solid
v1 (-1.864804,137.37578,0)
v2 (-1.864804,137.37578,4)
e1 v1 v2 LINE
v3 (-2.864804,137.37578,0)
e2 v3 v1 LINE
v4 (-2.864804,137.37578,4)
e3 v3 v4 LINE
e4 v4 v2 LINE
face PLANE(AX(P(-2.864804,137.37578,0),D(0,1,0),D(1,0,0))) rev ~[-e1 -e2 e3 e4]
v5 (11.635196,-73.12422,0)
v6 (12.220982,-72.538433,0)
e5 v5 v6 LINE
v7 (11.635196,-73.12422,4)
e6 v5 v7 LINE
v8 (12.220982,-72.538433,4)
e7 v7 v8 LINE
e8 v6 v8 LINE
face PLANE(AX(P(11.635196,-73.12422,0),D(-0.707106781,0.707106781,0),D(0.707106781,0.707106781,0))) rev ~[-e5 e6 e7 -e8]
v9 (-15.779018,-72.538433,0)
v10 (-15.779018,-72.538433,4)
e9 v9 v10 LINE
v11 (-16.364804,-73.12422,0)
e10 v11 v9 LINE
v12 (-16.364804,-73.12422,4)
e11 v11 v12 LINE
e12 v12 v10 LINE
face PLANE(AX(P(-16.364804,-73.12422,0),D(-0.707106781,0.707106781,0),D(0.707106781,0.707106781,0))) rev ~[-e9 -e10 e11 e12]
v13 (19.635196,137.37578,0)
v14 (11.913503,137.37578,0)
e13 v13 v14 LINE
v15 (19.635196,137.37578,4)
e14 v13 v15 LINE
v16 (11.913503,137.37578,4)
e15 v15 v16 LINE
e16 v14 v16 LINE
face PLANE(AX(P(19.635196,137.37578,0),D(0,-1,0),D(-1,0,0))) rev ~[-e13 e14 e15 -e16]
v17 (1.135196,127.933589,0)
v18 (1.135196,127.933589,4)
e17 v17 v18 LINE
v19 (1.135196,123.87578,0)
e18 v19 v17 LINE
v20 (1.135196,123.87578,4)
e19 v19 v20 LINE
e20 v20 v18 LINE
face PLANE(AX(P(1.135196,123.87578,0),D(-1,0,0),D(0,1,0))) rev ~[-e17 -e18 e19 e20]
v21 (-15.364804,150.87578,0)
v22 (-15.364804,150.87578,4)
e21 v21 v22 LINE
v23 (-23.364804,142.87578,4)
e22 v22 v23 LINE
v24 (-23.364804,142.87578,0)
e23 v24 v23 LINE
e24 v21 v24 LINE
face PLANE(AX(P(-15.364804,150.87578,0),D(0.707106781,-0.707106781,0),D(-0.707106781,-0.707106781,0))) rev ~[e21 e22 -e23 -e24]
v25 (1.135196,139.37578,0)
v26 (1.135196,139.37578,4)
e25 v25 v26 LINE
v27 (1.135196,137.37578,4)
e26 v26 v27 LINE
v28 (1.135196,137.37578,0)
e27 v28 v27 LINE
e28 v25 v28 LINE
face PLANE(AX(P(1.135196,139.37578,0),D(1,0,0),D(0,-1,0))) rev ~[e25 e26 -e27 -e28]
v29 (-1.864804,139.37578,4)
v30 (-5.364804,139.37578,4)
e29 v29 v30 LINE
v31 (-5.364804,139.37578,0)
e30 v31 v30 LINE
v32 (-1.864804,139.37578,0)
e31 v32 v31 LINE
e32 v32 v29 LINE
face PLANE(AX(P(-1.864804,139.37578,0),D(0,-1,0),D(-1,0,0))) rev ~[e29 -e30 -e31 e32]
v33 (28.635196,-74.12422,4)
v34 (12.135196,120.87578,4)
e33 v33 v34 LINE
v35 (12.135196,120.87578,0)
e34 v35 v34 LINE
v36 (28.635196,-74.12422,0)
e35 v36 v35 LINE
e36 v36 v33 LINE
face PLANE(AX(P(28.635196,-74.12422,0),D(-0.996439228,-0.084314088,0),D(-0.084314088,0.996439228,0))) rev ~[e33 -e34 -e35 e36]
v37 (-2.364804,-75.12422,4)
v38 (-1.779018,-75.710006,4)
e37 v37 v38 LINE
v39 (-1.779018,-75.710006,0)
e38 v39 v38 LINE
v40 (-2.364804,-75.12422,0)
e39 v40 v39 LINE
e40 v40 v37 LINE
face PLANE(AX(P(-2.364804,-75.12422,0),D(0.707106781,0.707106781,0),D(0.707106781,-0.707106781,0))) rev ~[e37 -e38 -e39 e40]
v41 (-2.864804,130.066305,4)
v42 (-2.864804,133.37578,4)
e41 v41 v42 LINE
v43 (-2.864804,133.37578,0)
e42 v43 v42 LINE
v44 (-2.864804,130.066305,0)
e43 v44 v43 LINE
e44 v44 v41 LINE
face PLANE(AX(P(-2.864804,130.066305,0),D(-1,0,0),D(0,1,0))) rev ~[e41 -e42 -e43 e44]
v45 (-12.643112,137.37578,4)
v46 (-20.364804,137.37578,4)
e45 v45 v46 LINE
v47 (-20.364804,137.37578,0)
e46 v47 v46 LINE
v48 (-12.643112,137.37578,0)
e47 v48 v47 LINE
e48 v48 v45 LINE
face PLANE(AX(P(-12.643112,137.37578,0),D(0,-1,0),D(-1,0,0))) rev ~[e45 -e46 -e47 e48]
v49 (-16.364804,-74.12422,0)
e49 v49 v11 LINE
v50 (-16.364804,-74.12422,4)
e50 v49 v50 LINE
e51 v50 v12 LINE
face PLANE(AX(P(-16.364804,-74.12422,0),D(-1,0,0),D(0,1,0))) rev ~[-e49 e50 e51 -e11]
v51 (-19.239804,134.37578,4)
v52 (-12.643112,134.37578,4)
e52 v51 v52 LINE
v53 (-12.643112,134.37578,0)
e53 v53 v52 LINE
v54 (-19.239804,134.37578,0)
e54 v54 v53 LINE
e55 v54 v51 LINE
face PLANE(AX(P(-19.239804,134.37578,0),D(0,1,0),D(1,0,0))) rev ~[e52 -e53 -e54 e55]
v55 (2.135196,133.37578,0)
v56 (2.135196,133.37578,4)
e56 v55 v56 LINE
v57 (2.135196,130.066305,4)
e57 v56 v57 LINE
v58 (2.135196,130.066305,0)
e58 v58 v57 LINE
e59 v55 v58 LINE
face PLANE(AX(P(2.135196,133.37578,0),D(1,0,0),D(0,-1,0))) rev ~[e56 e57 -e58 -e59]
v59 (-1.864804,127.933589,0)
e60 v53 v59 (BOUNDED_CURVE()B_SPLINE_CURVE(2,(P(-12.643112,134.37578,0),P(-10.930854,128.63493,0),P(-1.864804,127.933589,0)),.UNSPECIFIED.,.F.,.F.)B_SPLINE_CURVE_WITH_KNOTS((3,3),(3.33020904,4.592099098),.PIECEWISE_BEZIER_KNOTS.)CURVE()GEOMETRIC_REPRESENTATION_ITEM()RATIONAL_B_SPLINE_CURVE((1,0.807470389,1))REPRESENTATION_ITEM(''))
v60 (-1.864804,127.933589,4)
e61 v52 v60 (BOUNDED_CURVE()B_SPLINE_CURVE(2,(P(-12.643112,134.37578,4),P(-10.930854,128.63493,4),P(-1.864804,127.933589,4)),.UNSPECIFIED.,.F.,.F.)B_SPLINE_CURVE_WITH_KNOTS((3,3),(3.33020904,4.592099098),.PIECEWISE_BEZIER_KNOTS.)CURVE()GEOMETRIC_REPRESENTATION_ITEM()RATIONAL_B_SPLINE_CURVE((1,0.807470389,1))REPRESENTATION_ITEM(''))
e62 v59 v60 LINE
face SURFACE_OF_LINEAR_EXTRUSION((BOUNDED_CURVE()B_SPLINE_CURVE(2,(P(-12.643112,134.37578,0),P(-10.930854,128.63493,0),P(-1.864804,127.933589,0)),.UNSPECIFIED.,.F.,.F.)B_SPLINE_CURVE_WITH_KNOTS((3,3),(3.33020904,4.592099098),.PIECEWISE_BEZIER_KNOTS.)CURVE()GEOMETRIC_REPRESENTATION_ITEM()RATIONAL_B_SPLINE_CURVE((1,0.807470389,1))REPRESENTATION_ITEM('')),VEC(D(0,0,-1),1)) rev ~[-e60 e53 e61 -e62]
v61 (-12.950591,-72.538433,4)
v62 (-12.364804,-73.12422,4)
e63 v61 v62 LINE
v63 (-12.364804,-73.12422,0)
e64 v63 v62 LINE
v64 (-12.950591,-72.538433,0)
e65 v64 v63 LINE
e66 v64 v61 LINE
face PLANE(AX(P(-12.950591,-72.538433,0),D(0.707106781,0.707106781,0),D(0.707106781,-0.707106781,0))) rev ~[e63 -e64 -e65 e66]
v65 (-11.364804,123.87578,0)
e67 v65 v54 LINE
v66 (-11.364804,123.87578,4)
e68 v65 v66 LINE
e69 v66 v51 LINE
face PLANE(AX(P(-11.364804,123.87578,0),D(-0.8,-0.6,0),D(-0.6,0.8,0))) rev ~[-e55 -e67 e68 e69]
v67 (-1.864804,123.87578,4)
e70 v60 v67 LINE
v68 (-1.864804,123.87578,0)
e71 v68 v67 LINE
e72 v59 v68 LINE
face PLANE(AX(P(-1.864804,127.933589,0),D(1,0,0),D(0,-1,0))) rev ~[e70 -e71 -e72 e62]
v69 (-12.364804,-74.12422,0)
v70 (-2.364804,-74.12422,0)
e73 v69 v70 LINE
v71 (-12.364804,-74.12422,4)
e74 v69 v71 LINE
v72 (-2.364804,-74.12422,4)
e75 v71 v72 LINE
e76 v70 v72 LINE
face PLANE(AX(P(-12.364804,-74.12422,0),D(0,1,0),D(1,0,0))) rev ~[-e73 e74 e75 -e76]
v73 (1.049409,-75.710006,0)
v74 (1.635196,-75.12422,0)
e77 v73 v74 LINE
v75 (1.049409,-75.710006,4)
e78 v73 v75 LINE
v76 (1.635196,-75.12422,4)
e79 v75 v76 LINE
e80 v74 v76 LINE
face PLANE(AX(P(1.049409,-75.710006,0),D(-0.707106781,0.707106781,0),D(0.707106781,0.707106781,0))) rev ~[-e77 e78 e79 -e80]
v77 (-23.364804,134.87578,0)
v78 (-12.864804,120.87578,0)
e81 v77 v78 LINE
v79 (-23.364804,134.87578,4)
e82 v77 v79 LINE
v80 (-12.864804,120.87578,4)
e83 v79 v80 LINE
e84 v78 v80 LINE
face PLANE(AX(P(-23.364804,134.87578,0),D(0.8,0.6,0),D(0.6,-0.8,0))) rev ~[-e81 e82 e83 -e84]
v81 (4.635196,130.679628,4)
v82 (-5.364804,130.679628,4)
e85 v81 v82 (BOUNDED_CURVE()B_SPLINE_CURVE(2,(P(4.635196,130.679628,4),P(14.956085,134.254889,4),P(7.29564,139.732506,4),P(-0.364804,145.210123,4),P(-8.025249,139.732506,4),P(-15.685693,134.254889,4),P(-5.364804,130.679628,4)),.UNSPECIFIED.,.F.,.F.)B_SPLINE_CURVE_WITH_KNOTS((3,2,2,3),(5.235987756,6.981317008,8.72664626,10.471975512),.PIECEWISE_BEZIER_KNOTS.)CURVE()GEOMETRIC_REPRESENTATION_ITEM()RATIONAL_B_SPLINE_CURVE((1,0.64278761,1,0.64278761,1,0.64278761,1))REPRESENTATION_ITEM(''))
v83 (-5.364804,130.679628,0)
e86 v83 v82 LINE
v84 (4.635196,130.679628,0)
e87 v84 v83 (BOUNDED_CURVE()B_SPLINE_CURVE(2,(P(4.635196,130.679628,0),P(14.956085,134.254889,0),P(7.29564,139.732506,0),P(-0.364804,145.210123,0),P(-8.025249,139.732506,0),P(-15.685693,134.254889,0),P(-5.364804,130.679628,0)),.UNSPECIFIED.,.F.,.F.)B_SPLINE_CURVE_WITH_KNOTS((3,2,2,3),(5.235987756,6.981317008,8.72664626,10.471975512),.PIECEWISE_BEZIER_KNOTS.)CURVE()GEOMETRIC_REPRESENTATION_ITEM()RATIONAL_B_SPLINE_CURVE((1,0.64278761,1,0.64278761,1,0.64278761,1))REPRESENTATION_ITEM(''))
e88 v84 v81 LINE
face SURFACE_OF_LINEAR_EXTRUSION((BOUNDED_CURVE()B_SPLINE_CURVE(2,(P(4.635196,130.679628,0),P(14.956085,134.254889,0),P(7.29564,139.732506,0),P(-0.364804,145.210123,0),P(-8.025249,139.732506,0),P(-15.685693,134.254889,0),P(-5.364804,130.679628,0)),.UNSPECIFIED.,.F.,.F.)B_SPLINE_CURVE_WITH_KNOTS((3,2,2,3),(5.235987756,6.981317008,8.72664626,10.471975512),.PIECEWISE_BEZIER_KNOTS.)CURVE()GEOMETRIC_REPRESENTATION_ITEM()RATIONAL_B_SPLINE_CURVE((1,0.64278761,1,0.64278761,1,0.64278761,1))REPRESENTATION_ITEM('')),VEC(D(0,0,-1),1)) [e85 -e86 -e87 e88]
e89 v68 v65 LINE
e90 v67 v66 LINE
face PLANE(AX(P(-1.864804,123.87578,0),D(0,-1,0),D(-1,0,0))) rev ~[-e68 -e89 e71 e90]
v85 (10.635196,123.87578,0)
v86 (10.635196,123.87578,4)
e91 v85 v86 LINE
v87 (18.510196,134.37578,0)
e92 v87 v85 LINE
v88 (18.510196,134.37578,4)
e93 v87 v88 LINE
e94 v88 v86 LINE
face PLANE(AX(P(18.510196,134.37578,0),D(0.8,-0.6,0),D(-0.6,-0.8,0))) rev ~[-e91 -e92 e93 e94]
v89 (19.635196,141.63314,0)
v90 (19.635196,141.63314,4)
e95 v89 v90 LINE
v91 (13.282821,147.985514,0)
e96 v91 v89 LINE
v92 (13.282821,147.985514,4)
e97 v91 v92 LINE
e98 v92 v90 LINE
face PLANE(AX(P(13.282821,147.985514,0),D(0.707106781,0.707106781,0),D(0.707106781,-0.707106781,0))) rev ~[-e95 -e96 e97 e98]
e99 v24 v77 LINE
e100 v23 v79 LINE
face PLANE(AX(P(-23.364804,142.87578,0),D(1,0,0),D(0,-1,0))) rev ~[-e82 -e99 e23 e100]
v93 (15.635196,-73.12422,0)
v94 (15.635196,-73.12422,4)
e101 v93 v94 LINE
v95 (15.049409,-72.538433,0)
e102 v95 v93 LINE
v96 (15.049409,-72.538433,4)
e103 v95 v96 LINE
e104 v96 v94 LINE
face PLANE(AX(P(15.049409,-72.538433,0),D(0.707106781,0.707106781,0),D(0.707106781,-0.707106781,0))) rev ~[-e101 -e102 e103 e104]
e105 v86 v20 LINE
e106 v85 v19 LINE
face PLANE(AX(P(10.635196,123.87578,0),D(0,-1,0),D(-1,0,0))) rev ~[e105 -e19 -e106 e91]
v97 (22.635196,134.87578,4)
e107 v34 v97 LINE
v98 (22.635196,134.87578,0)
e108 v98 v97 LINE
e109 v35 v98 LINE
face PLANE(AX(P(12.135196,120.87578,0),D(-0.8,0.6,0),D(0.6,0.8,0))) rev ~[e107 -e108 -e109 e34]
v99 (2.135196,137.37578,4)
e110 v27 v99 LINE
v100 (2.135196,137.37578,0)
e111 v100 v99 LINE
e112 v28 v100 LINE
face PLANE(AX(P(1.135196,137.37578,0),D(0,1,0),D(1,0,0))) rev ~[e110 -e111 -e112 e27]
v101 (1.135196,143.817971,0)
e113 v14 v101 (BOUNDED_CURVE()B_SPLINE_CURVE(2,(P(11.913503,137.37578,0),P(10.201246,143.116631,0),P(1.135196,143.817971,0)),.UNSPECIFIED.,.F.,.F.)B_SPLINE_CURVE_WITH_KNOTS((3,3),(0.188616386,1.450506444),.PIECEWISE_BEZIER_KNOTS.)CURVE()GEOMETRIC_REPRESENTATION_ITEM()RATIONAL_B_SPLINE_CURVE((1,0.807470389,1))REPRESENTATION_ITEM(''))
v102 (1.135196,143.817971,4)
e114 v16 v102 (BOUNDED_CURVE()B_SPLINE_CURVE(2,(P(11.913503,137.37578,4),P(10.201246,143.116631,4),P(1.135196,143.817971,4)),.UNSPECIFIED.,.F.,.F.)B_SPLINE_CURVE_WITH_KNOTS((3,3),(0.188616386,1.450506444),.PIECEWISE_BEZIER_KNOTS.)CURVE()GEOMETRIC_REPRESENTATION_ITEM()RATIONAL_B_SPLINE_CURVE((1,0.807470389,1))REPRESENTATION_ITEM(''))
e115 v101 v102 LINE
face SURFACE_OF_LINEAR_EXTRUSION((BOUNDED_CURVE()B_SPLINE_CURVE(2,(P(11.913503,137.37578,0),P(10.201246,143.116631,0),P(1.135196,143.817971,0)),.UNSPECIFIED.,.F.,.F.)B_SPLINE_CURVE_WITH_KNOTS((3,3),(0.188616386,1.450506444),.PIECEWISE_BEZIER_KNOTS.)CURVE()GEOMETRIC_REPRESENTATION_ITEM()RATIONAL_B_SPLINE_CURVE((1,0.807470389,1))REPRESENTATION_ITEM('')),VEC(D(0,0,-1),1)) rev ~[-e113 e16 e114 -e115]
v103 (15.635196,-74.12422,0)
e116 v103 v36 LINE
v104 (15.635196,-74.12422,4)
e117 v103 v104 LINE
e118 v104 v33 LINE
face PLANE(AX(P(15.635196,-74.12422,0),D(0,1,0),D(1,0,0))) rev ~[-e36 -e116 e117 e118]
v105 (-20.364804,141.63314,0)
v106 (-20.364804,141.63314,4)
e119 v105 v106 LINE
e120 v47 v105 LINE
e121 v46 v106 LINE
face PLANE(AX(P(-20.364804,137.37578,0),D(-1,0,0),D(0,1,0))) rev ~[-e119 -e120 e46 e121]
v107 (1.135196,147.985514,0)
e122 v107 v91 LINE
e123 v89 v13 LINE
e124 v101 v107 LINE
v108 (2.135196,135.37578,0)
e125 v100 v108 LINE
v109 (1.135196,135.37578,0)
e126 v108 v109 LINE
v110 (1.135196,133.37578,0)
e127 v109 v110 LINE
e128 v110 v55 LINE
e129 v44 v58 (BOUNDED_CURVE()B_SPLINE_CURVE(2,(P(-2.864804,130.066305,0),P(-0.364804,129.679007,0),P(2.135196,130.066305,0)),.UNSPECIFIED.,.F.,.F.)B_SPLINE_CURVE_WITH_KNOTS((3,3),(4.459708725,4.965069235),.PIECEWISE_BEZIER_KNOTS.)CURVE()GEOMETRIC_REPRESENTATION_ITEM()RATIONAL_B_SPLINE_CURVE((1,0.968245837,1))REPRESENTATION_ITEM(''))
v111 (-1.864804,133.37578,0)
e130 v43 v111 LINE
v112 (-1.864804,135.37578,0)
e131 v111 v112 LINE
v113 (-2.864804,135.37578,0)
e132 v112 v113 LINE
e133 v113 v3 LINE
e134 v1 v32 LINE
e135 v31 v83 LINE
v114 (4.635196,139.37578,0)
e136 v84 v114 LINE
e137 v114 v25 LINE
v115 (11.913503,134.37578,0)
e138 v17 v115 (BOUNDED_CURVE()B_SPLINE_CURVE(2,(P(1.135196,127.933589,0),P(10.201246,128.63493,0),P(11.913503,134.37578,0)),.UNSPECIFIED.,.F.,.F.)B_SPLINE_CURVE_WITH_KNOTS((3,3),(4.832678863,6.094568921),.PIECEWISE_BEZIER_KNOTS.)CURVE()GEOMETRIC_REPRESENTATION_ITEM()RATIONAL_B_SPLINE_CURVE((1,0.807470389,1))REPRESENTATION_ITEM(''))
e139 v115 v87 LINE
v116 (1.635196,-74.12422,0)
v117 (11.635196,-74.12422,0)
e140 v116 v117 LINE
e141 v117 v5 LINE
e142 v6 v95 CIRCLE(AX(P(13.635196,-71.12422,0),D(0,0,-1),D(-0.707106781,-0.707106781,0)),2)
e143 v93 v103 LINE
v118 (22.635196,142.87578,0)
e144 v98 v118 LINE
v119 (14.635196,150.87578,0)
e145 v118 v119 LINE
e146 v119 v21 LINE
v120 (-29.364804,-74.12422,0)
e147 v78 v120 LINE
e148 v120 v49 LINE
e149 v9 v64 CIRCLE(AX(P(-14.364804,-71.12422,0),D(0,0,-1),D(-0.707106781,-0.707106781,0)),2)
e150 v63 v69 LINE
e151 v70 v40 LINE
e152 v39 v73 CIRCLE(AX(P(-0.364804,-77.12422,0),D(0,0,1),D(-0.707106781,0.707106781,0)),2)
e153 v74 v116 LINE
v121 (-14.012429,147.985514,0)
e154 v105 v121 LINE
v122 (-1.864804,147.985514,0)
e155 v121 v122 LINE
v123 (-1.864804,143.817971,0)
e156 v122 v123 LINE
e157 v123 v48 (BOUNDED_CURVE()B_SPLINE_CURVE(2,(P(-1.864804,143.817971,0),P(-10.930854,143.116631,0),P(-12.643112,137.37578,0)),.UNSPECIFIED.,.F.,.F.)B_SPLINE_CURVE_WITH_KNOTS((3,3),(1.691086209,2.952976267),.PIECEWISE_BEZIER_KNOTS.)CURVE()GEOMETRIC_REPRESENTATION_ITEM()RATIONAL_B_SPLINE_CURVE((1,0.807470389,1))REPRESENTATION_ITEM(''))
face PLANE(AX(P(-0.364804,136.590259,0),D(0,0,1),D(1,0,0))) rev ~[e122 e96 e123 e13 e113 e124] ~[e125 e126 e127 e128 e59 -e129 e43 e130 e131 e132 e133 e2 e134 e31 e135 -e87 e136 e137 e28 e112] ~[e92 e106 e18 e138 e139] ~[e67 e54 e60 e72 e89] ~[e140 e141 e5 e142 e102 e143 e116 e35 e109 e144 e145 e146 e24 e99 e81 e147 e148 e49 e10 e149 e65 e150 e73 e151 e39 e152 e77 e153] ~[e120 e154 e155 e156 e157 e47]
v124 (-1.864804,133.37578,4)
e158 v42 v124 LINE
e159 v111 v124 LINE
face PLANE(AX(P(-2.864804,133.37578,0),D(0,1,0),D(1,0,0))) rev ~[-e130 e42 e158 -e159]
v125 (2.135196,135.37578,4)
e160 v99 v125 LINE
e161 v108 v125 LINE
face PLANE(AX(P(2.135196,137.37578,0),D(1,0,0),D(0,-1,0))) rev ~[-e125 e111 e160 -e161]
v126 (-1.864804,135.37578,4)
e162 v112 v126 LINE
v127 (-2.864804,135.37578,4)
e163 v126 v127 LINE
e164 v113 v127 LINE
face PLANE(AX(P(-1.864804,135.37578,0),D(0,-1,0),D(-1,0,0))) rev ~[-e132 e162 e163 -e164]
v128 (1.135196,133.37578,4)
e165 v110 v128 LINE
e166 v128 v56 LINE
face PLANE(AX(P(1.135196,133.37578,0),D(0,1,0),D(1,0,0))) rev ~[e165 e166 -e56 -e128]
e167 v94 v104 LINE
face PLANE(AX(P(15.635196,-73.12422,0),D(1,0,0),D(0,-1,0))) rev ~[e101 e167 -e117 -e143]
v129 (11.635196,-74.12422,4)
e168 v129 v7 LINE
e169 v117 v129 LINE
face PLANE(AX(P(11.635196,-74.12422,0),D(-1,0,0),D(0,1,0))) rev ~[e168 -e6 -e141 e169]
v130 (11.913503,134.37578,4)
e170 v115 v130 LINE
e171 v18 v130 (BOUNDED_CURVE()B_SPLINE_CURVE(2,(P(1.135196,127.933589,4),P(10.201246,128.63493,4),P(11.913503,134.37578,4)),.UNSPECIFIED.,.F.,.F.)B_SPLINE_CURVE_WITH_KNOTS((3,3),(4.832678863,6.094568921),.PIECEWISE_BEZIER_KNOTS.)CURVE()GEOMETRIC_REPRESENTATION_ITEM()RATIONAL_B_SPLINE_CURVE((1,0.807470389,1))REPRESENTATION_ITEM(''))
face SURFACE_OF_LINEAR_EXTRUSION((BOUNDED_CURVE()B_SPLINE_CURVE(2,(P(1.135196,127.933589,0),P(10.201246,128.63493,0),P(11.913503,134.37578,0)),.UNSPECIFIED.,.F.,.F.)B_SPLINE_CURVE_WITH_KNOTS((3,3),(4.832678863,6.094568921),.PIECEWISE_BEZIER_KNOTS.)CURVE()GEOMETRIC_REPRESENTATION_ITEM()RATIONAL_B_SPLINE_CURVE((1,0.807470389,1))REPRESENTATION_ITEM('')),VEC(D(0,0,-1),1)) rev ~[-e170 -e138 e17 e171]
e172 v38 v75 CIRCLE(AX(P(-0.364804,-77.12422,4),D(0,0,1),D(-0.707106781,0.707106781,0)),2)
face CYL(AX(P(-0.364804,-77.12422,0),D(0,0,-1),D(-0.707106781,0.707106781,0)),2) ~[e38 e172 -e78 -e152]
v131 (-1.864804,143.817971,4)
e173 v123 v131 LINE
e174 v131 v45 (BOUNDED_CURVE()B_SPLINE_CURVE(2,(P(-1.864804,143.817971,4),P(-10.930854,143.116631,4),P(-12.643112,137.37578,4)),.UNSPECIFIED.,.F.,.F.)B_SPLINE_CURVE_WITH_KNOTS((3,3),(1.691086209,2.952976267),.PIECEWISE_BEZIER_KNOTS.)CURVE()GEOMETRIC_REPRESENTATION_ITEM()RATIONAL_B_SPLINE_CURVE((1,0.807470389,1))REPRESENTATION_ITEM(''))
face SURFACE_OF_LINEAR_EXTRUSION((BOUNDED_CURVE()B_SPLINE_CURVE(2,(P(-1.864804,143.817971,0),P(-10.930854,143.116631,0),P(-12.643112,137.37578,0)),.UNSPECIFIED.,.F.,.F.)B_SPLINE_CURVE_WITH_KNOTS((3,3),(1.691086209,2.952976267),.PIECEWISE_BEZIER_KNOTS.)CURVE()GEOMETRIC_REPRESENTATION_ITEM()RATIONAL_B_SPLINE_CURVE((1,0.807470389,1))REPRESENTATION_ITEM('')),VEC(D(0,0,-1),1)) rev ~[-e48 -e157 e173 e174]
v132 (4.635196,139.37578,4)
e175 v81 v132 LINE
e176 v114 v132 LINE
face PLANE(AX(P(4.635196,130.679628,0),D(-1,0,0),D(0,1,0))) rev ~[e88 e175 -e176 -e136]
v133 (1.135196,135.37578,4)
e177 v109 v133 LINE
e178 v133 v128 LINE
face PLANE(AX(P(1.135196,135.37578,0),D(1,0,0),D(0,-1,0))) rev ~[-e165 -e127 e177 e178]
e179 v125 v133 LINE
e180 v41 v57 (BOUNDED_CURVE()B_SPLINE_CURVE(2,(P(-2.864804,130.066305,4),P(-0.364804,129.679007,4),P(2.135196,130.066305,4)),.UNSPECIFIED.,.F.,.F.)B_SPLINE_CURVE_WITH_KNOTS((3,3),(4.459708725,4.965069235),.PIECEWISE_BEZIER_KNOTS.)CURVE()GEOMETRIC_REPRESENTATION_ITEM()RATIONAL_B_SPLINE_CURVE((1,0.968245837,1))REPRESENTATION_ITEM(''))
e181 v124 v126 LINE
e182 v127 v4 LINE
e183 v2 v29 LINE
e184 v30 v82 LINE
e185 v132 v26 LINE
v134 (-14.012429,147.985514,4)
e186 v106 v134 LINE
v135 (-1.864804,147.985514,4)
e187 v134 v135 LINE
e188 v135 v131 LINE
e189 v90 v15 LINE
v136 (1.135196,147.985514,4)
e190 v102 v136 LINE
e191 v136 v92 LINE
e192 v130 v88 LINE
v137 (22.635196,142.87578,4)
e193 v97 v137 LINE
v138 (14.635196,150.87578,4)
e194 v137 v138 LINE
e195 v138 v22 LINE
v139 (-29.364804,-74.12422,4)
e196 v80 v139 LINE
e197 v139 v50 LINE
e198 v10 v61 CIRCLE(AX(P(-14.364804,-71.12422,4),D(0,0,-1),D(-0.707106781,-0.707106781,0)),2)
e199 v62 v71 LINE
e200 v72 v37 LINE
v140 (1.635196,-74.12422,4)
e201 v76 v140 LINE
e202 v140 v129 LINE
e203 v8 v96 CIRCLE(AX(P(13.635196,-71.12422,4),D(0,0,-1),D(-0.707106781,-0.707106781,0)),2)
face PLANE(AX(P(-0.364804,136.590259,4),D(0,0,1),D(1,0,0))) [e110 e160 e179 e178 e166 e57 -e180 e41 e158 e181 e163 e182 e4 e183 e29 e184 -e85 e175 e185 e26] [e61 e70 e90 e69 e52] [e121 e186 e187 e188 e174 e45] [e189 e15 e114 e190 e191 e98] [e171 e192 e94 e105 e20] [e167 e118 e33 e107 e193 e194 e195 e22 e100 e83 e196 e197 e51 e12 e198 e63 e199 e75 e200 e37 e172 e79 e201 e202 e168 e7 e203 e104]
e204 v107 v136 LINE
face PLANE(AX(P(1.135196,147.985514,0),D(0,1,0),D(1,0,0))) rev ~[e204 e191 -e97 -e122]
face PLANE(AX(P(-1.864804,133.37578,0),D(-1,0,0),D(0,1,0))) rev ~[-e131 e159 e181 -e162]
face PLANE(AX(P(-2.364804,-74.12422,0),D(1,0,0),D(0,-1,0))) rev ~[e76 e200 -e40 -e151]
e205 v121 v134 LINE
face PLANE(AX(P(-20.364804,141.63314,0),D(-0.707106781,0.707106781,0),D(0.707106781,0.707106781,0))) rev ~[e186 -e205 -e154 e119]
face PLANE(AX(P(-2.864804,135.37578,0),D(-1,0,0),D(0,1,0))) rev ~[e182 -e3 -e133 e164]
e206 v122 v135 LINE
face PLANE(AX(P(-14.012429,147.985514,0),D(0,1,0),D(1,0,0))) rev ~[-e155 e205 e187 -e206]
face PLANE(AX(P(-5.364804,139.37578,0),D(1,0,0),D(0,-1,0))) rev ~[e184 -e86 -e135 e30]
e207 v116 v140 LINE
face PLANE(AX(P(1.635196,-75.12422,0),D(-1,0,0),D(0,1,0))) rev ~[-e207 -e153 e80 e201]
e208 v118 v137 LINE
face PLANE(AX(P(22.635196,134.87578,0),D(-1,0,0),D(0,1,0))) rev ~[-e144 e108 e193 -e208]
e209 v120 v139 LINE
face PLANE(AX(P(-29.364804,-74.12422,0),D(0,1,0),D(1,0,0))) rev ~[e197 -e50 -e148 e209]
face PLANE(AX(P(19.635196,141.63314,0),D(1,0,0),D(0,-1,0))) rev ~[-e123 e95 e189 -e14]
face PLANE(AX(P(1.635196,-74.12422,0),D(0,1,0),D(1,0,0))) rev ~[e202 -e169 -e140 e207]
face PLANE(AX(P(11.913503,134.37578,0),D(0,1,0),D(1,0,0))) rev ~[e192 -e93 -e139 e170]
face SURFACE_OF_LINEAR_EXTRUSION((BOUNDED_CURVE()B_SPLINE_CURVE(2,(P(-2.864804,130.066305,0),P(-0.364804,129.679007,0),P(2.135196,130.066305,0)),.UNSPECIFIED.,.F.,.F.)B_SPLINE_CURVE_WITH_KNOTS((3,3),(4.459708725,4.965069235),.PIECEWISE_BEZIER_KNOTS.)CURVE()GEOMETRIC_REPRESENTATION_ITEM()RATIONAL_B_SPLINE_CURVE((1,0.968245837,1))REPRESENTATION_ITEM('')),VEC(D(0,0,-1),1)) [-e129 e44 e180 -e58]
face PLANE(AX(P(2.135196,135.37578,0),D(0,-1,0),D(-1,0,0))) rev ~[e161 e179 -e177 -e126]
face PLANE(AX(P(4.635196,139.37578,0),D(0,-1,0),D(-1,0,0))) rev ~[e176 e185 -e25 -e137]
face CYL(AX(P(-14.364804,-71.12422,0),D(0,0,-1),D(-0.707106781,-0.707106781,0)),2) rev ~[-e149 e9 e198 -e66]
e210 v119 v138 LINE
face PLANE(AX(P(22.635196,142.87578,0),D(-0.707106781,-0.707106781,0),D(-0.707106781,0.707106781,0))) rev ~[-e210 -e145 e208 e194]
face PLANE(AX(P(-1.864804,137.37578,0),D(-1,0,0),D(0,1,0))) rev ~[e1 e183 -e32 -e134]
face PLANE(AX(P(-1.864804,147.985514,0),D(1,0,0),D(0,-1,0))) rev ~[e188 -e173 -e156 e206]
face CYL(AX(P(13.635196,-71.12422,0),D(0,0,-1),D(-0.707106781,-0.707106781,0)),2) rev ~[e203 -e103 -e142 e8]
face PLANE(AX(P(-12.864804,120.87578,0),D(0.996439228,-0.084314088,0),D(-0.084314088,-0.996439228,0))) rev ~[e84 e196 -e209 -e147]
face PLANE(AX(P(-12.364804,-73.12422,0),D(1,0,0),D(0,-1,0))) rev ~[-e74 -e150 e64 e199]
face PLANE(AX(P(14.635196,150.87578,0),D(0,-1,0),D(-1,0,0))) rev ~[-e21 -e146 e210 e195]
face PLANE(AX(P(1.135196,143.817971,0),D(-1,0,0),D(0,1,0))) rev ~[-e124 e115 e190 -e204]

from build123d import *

# Parameters (mm, degrees)
F1_DEPTH = 4


with BuildPart() as f1:
    # F0 (on Top) → F1 (new body)
    with BuildSketch(Plane.XY):
        Polygon((22.6351957535, 142.8757803243), (14.6351957535, 150.8757803243), (-15.3648042465, 150.8757803243), (-23.3648042465, 142.8757803243), (-23.3648042465, 134.8757803243), (-12.8648042465, 120.8757803243), (12.1351957535, 120.8757803243), (22.6351957535, 134.8757803243), align=None)
        with BuildLine():
            Line((-1.8648042465, 123.8757803243), (-11.3648042465, 123.8757803243))
            Line((-11.3648042465, 123.8757803243), (-19.2398042465, 134.3757803243))
            Line((-19.2398042465, 134.3757803243), (-12.643111782, 134.3757803243))
            add(Edge.make_bspline(
                [(-12.643111782, 134.3757803243), (-10.9308544177, 128.6349298073), (-1.8648042465, 127.9335891908)],
                knots=[3.3302090398, 3.3302090398, 3.3302090398, 4.592099098, 4.592099098, 4.592099098], degree=2, weights=[1, 0.8074703886, 1]))
            Line((-1.8648042465, 127.9335891908), (-1.8648042465, 123.8757803243))
        make_face(mode=Mode.SUBTRACT)
        with BuildLine():
            Line((-20.3648042465, 137.3757803243), (-20.3648042465, 141.6331396372))
            Line((-20.3648042465, 141.6331396372), (-14.0124294414, 147.9855144423))
            Line((-14.0124294414, 147.9855144423), (-1.8648042465, 147.9855144423))
            Line((-1.8648042465, 147.9855144423), (-1.8648042465, 143.8179714577))
            add(Edge.make_bspline(
                [(-1.8648042465, 143.8179714577), (-10.9308544177, 143.1166308413), (-12.643111782, 137.3757803243)],
                knots=[1.6910862092, 1.6910862092, 1.6910862092, 2.9529762674, 2.9529762674, 2.9529762674], degree=2, weights=[1, 0.8074703886, 1]))
            Line((-12.643111782, 137.3757803243), (-20.3648042465, 137.3757803243))
        make_face(mode=Mode.SUBTRACT)
        with BuildLine():
            add(Edge.make_bspline(
                [(4.6351957535, 130.6796279016), (14.9560846159, 134.2548886794), (7.2956401847, 139.7325059824), (-0.3648042465, 145.2101232854), (-8.0252486777, 139.7325059824), (-15.6856931088, 134.2548886794), (-5.3648042465, 130.6796279016)],
                knots=[5.235987756, 5.235987756, 5.235987756, 6.981317008, 6.981317008, 8.72664626, 8.72664626, 10.471975512, 10.471975512, 10.471975512], degree=2, weights=[1, 0.6427876097, 1, 0.6427876097, 1, 0.6427876097, 1]))
            Line((4.6351957535, 130.6796279016), (4.6351957535, 137.3757803243))
            Line((4.6351957535, 137.3757803243), (4.6351957535, 139.3757803243))
            Line((4.6351957535, 139.3757803243), (1.1351957535, 139.3757803243))
            Line((1.1351957535, 139.3757803243), (1.1351957535, 137.3757803243))
            Line((1.1351957535, 137.3757803243), (2.1351957535, 137.3757803243))
            Line((2.1351957535, 137.3757803243), (2.1351957535, 135.3757803243))
            Line((2.1351957535, 135.3757803243), (1.1351957535, 135.3757803243))
            Line((1.1351957535, 135.3757803243), (1.1351957535, 133.3757803243))
            Line((1.1351957535, 133.3757803243), (2.1351957535, 133.3757803243))
            Line((2.1351957535, 133.3757803243), (2.1351957535, 130.066305305))
            add(Edge.make_bspline(
                [(-2.8648042465, 130.066305305), (-0.3648042465, 129.6790069704), (2.1351957535, 130.066305305)],
                knots=[4.4597087252, 4.4597087252, 4.4597087252, 4.9650692355, 4.9650692355, 4.9650692355], degree=2, weights=[1, 0.9682458366, 1]))
            Line((-2.8648042465, 130.066305305), (-2.8648042465, 133.3757803243))
            Line((-2.8648042465, 133.3757803243), (-1.8648042465, 133.3757803243))
            Line((-1.8648042465, 133.3757803243), (-1.8648042465, 135.3757803243))
            Line((-1.8648042465, 135.3757803243), (-2.8648042465, 135.3757803243))
            Line((-2.8648042465, 135.3757803243), (-2.8648042465, 137.3757803243))
            Line((-2.8648042465, 137.3757803243), (-1.8648042465, 137.3757803243))
            Line((-1.8648042465, 137.3757803243), (-1.8648042465, 139.3757803243))
            Line((-1.8648042465, 139.3757803243), (-5.3648042465, 139.3757803243))
            Line((-5.3648042465, 139.3757803243), (-5.3648042465, 137.3757803243))
            Line((-5.3648042465, 137.3757803243), (-5.3648042465, 130.6796279016))
        make_face(mode=Mode.SUBTRACT)
        with BuildLine():
            Line((1.1351957535, 123.8757803243), (1.1351957535, 127.9335891908))
            add(Edge.make_bspline(
                [(1.1351957535, 127.9335891908), (10.2012459248, 128.6349298073), (11.9135032891, 134.3757803243)],
                knots=[4.8326788628, 4.8326788628, 4.8326788628, 6.094568921, 6.094568921, 6.094568921], degree=2, weights=[1, 0.8074703886, 1]))
            Line((11.9135032891, 134.3757803243), (18.5101957535, 134.3757803243))
            Line((18.5101957535, 134.3757803243), (10.6351957535, 123.8757803243))
            Line((10.6351957535, 123.8757803243), (1.1351957535, 123.8757803243))
        make_face(mode=Mode.SUBTRACT)
        with BuildLine():
            Line((1.1351957535, 147.9855144423), (13.2828209484, 147.9855144423))
            Line((13.2828209484, 147.9855144423), (19.6351957535, 141.6331396372))
            Line((19.6351957535, 141.6331396372), (19.6351957535, 137.3757803243))
            Line((19.6351957535, 137.3757803243), (11.9135032891, 137.3757803243))
            add(Edge.make_bspline(
                [(11.9135032891, 137.3757803243), (10.2012459248, 143.1166308413), (1.1351957535, 143.8179714577)],
                knots=[0.1886163862, 0.1886163862, 0.1886163862, 1.4505064444, 1.4505064444, 1.4505064444], degree=2, weights=[1, 0.8074703886, 1]))
            Line((1.1351957535, 143.8179714577), (1.1351957535, 147.9855144423))
        make_face(mode=Mode.SUBTRACT)
        with BuildLine():
            Line((28.6351957535, -74.1242196757), (12.1351957535, 120.8757803243))
            Line((12.1351957535, 120.8757803243), (-12.8648042465, 120.8757803243))
            Line((-12.8648042465, 120.8757803243), (-29.3648042465, -74.1242196757))
            Line((-29.3648042465, -74.1242196757), (-16.3648042465, -74.1242196757))
            Line((-16.3648042465, -74.1242196757), (-16.3648042465, -73.1242196757))
            Line((-16.3648042465, -73.1242196757), (-15.7790178088, -72.5384332381))
            ThreePointArc((-15.7790178088, -72.5384332381), (-14.3648042465, -69.1242196757), (-12.9505906841, -72.5384332381))
            Line((-12.9505906841, -72.5384332381), (-12.3648042465, -73.1242196757))
            Line((-12.3648042465, -73.1242196757), (-12.3648042465, -74.1242196757))
            Line((-12.3648042465, -74.1242196757), (-2.3648042465, -74.1242196757))
            Line((-2.3648042465, -74.1242196757), (-2.3648042465, -75.1242196757))
            Line((-2.3648042465, -75.1242196757), (-1.7790178088, -75.7100061133))
            ThreePointArc((-1.7790178088, -75.7100061133), (-0.3648042465, -79.1242196757), (1.0494093159, -75.7100061133))
            Line((1.0494093159, -75.7100061133), (1.6351957535, -75.1242196757))
            Line((1.6351957535, -75.1242196757), (1.6351957535, -74.1242196757))
            Line((1.6351957535, -74.1242196757), (11.6351957535, -74.1242196757))
            Line((11.6351957535, -74.1242196757), (11.6351957535, -73.1242196757))
            Line((11.6351957535, -73.1242196757), (12.2209821912, -72.5384332381))
            ThreePointArc((12.2209821912, -72.5384332381), (13.6351957535, -69.1242196757), (15.0494093159, -72.5384332381))
            Line((15.0494093159, -72.5384332381), (15.6351957535, -73.1242196757))
            Line((15.6351957535, -73.1242196757), (15.6351957535, -74.1242196757))
            Line((15.6351957535, -74.1242196757), (28.6351957535, -74.1242196757))
        make_face()
    extrude(amount=F1_DEPTH)


solid = f1.part
